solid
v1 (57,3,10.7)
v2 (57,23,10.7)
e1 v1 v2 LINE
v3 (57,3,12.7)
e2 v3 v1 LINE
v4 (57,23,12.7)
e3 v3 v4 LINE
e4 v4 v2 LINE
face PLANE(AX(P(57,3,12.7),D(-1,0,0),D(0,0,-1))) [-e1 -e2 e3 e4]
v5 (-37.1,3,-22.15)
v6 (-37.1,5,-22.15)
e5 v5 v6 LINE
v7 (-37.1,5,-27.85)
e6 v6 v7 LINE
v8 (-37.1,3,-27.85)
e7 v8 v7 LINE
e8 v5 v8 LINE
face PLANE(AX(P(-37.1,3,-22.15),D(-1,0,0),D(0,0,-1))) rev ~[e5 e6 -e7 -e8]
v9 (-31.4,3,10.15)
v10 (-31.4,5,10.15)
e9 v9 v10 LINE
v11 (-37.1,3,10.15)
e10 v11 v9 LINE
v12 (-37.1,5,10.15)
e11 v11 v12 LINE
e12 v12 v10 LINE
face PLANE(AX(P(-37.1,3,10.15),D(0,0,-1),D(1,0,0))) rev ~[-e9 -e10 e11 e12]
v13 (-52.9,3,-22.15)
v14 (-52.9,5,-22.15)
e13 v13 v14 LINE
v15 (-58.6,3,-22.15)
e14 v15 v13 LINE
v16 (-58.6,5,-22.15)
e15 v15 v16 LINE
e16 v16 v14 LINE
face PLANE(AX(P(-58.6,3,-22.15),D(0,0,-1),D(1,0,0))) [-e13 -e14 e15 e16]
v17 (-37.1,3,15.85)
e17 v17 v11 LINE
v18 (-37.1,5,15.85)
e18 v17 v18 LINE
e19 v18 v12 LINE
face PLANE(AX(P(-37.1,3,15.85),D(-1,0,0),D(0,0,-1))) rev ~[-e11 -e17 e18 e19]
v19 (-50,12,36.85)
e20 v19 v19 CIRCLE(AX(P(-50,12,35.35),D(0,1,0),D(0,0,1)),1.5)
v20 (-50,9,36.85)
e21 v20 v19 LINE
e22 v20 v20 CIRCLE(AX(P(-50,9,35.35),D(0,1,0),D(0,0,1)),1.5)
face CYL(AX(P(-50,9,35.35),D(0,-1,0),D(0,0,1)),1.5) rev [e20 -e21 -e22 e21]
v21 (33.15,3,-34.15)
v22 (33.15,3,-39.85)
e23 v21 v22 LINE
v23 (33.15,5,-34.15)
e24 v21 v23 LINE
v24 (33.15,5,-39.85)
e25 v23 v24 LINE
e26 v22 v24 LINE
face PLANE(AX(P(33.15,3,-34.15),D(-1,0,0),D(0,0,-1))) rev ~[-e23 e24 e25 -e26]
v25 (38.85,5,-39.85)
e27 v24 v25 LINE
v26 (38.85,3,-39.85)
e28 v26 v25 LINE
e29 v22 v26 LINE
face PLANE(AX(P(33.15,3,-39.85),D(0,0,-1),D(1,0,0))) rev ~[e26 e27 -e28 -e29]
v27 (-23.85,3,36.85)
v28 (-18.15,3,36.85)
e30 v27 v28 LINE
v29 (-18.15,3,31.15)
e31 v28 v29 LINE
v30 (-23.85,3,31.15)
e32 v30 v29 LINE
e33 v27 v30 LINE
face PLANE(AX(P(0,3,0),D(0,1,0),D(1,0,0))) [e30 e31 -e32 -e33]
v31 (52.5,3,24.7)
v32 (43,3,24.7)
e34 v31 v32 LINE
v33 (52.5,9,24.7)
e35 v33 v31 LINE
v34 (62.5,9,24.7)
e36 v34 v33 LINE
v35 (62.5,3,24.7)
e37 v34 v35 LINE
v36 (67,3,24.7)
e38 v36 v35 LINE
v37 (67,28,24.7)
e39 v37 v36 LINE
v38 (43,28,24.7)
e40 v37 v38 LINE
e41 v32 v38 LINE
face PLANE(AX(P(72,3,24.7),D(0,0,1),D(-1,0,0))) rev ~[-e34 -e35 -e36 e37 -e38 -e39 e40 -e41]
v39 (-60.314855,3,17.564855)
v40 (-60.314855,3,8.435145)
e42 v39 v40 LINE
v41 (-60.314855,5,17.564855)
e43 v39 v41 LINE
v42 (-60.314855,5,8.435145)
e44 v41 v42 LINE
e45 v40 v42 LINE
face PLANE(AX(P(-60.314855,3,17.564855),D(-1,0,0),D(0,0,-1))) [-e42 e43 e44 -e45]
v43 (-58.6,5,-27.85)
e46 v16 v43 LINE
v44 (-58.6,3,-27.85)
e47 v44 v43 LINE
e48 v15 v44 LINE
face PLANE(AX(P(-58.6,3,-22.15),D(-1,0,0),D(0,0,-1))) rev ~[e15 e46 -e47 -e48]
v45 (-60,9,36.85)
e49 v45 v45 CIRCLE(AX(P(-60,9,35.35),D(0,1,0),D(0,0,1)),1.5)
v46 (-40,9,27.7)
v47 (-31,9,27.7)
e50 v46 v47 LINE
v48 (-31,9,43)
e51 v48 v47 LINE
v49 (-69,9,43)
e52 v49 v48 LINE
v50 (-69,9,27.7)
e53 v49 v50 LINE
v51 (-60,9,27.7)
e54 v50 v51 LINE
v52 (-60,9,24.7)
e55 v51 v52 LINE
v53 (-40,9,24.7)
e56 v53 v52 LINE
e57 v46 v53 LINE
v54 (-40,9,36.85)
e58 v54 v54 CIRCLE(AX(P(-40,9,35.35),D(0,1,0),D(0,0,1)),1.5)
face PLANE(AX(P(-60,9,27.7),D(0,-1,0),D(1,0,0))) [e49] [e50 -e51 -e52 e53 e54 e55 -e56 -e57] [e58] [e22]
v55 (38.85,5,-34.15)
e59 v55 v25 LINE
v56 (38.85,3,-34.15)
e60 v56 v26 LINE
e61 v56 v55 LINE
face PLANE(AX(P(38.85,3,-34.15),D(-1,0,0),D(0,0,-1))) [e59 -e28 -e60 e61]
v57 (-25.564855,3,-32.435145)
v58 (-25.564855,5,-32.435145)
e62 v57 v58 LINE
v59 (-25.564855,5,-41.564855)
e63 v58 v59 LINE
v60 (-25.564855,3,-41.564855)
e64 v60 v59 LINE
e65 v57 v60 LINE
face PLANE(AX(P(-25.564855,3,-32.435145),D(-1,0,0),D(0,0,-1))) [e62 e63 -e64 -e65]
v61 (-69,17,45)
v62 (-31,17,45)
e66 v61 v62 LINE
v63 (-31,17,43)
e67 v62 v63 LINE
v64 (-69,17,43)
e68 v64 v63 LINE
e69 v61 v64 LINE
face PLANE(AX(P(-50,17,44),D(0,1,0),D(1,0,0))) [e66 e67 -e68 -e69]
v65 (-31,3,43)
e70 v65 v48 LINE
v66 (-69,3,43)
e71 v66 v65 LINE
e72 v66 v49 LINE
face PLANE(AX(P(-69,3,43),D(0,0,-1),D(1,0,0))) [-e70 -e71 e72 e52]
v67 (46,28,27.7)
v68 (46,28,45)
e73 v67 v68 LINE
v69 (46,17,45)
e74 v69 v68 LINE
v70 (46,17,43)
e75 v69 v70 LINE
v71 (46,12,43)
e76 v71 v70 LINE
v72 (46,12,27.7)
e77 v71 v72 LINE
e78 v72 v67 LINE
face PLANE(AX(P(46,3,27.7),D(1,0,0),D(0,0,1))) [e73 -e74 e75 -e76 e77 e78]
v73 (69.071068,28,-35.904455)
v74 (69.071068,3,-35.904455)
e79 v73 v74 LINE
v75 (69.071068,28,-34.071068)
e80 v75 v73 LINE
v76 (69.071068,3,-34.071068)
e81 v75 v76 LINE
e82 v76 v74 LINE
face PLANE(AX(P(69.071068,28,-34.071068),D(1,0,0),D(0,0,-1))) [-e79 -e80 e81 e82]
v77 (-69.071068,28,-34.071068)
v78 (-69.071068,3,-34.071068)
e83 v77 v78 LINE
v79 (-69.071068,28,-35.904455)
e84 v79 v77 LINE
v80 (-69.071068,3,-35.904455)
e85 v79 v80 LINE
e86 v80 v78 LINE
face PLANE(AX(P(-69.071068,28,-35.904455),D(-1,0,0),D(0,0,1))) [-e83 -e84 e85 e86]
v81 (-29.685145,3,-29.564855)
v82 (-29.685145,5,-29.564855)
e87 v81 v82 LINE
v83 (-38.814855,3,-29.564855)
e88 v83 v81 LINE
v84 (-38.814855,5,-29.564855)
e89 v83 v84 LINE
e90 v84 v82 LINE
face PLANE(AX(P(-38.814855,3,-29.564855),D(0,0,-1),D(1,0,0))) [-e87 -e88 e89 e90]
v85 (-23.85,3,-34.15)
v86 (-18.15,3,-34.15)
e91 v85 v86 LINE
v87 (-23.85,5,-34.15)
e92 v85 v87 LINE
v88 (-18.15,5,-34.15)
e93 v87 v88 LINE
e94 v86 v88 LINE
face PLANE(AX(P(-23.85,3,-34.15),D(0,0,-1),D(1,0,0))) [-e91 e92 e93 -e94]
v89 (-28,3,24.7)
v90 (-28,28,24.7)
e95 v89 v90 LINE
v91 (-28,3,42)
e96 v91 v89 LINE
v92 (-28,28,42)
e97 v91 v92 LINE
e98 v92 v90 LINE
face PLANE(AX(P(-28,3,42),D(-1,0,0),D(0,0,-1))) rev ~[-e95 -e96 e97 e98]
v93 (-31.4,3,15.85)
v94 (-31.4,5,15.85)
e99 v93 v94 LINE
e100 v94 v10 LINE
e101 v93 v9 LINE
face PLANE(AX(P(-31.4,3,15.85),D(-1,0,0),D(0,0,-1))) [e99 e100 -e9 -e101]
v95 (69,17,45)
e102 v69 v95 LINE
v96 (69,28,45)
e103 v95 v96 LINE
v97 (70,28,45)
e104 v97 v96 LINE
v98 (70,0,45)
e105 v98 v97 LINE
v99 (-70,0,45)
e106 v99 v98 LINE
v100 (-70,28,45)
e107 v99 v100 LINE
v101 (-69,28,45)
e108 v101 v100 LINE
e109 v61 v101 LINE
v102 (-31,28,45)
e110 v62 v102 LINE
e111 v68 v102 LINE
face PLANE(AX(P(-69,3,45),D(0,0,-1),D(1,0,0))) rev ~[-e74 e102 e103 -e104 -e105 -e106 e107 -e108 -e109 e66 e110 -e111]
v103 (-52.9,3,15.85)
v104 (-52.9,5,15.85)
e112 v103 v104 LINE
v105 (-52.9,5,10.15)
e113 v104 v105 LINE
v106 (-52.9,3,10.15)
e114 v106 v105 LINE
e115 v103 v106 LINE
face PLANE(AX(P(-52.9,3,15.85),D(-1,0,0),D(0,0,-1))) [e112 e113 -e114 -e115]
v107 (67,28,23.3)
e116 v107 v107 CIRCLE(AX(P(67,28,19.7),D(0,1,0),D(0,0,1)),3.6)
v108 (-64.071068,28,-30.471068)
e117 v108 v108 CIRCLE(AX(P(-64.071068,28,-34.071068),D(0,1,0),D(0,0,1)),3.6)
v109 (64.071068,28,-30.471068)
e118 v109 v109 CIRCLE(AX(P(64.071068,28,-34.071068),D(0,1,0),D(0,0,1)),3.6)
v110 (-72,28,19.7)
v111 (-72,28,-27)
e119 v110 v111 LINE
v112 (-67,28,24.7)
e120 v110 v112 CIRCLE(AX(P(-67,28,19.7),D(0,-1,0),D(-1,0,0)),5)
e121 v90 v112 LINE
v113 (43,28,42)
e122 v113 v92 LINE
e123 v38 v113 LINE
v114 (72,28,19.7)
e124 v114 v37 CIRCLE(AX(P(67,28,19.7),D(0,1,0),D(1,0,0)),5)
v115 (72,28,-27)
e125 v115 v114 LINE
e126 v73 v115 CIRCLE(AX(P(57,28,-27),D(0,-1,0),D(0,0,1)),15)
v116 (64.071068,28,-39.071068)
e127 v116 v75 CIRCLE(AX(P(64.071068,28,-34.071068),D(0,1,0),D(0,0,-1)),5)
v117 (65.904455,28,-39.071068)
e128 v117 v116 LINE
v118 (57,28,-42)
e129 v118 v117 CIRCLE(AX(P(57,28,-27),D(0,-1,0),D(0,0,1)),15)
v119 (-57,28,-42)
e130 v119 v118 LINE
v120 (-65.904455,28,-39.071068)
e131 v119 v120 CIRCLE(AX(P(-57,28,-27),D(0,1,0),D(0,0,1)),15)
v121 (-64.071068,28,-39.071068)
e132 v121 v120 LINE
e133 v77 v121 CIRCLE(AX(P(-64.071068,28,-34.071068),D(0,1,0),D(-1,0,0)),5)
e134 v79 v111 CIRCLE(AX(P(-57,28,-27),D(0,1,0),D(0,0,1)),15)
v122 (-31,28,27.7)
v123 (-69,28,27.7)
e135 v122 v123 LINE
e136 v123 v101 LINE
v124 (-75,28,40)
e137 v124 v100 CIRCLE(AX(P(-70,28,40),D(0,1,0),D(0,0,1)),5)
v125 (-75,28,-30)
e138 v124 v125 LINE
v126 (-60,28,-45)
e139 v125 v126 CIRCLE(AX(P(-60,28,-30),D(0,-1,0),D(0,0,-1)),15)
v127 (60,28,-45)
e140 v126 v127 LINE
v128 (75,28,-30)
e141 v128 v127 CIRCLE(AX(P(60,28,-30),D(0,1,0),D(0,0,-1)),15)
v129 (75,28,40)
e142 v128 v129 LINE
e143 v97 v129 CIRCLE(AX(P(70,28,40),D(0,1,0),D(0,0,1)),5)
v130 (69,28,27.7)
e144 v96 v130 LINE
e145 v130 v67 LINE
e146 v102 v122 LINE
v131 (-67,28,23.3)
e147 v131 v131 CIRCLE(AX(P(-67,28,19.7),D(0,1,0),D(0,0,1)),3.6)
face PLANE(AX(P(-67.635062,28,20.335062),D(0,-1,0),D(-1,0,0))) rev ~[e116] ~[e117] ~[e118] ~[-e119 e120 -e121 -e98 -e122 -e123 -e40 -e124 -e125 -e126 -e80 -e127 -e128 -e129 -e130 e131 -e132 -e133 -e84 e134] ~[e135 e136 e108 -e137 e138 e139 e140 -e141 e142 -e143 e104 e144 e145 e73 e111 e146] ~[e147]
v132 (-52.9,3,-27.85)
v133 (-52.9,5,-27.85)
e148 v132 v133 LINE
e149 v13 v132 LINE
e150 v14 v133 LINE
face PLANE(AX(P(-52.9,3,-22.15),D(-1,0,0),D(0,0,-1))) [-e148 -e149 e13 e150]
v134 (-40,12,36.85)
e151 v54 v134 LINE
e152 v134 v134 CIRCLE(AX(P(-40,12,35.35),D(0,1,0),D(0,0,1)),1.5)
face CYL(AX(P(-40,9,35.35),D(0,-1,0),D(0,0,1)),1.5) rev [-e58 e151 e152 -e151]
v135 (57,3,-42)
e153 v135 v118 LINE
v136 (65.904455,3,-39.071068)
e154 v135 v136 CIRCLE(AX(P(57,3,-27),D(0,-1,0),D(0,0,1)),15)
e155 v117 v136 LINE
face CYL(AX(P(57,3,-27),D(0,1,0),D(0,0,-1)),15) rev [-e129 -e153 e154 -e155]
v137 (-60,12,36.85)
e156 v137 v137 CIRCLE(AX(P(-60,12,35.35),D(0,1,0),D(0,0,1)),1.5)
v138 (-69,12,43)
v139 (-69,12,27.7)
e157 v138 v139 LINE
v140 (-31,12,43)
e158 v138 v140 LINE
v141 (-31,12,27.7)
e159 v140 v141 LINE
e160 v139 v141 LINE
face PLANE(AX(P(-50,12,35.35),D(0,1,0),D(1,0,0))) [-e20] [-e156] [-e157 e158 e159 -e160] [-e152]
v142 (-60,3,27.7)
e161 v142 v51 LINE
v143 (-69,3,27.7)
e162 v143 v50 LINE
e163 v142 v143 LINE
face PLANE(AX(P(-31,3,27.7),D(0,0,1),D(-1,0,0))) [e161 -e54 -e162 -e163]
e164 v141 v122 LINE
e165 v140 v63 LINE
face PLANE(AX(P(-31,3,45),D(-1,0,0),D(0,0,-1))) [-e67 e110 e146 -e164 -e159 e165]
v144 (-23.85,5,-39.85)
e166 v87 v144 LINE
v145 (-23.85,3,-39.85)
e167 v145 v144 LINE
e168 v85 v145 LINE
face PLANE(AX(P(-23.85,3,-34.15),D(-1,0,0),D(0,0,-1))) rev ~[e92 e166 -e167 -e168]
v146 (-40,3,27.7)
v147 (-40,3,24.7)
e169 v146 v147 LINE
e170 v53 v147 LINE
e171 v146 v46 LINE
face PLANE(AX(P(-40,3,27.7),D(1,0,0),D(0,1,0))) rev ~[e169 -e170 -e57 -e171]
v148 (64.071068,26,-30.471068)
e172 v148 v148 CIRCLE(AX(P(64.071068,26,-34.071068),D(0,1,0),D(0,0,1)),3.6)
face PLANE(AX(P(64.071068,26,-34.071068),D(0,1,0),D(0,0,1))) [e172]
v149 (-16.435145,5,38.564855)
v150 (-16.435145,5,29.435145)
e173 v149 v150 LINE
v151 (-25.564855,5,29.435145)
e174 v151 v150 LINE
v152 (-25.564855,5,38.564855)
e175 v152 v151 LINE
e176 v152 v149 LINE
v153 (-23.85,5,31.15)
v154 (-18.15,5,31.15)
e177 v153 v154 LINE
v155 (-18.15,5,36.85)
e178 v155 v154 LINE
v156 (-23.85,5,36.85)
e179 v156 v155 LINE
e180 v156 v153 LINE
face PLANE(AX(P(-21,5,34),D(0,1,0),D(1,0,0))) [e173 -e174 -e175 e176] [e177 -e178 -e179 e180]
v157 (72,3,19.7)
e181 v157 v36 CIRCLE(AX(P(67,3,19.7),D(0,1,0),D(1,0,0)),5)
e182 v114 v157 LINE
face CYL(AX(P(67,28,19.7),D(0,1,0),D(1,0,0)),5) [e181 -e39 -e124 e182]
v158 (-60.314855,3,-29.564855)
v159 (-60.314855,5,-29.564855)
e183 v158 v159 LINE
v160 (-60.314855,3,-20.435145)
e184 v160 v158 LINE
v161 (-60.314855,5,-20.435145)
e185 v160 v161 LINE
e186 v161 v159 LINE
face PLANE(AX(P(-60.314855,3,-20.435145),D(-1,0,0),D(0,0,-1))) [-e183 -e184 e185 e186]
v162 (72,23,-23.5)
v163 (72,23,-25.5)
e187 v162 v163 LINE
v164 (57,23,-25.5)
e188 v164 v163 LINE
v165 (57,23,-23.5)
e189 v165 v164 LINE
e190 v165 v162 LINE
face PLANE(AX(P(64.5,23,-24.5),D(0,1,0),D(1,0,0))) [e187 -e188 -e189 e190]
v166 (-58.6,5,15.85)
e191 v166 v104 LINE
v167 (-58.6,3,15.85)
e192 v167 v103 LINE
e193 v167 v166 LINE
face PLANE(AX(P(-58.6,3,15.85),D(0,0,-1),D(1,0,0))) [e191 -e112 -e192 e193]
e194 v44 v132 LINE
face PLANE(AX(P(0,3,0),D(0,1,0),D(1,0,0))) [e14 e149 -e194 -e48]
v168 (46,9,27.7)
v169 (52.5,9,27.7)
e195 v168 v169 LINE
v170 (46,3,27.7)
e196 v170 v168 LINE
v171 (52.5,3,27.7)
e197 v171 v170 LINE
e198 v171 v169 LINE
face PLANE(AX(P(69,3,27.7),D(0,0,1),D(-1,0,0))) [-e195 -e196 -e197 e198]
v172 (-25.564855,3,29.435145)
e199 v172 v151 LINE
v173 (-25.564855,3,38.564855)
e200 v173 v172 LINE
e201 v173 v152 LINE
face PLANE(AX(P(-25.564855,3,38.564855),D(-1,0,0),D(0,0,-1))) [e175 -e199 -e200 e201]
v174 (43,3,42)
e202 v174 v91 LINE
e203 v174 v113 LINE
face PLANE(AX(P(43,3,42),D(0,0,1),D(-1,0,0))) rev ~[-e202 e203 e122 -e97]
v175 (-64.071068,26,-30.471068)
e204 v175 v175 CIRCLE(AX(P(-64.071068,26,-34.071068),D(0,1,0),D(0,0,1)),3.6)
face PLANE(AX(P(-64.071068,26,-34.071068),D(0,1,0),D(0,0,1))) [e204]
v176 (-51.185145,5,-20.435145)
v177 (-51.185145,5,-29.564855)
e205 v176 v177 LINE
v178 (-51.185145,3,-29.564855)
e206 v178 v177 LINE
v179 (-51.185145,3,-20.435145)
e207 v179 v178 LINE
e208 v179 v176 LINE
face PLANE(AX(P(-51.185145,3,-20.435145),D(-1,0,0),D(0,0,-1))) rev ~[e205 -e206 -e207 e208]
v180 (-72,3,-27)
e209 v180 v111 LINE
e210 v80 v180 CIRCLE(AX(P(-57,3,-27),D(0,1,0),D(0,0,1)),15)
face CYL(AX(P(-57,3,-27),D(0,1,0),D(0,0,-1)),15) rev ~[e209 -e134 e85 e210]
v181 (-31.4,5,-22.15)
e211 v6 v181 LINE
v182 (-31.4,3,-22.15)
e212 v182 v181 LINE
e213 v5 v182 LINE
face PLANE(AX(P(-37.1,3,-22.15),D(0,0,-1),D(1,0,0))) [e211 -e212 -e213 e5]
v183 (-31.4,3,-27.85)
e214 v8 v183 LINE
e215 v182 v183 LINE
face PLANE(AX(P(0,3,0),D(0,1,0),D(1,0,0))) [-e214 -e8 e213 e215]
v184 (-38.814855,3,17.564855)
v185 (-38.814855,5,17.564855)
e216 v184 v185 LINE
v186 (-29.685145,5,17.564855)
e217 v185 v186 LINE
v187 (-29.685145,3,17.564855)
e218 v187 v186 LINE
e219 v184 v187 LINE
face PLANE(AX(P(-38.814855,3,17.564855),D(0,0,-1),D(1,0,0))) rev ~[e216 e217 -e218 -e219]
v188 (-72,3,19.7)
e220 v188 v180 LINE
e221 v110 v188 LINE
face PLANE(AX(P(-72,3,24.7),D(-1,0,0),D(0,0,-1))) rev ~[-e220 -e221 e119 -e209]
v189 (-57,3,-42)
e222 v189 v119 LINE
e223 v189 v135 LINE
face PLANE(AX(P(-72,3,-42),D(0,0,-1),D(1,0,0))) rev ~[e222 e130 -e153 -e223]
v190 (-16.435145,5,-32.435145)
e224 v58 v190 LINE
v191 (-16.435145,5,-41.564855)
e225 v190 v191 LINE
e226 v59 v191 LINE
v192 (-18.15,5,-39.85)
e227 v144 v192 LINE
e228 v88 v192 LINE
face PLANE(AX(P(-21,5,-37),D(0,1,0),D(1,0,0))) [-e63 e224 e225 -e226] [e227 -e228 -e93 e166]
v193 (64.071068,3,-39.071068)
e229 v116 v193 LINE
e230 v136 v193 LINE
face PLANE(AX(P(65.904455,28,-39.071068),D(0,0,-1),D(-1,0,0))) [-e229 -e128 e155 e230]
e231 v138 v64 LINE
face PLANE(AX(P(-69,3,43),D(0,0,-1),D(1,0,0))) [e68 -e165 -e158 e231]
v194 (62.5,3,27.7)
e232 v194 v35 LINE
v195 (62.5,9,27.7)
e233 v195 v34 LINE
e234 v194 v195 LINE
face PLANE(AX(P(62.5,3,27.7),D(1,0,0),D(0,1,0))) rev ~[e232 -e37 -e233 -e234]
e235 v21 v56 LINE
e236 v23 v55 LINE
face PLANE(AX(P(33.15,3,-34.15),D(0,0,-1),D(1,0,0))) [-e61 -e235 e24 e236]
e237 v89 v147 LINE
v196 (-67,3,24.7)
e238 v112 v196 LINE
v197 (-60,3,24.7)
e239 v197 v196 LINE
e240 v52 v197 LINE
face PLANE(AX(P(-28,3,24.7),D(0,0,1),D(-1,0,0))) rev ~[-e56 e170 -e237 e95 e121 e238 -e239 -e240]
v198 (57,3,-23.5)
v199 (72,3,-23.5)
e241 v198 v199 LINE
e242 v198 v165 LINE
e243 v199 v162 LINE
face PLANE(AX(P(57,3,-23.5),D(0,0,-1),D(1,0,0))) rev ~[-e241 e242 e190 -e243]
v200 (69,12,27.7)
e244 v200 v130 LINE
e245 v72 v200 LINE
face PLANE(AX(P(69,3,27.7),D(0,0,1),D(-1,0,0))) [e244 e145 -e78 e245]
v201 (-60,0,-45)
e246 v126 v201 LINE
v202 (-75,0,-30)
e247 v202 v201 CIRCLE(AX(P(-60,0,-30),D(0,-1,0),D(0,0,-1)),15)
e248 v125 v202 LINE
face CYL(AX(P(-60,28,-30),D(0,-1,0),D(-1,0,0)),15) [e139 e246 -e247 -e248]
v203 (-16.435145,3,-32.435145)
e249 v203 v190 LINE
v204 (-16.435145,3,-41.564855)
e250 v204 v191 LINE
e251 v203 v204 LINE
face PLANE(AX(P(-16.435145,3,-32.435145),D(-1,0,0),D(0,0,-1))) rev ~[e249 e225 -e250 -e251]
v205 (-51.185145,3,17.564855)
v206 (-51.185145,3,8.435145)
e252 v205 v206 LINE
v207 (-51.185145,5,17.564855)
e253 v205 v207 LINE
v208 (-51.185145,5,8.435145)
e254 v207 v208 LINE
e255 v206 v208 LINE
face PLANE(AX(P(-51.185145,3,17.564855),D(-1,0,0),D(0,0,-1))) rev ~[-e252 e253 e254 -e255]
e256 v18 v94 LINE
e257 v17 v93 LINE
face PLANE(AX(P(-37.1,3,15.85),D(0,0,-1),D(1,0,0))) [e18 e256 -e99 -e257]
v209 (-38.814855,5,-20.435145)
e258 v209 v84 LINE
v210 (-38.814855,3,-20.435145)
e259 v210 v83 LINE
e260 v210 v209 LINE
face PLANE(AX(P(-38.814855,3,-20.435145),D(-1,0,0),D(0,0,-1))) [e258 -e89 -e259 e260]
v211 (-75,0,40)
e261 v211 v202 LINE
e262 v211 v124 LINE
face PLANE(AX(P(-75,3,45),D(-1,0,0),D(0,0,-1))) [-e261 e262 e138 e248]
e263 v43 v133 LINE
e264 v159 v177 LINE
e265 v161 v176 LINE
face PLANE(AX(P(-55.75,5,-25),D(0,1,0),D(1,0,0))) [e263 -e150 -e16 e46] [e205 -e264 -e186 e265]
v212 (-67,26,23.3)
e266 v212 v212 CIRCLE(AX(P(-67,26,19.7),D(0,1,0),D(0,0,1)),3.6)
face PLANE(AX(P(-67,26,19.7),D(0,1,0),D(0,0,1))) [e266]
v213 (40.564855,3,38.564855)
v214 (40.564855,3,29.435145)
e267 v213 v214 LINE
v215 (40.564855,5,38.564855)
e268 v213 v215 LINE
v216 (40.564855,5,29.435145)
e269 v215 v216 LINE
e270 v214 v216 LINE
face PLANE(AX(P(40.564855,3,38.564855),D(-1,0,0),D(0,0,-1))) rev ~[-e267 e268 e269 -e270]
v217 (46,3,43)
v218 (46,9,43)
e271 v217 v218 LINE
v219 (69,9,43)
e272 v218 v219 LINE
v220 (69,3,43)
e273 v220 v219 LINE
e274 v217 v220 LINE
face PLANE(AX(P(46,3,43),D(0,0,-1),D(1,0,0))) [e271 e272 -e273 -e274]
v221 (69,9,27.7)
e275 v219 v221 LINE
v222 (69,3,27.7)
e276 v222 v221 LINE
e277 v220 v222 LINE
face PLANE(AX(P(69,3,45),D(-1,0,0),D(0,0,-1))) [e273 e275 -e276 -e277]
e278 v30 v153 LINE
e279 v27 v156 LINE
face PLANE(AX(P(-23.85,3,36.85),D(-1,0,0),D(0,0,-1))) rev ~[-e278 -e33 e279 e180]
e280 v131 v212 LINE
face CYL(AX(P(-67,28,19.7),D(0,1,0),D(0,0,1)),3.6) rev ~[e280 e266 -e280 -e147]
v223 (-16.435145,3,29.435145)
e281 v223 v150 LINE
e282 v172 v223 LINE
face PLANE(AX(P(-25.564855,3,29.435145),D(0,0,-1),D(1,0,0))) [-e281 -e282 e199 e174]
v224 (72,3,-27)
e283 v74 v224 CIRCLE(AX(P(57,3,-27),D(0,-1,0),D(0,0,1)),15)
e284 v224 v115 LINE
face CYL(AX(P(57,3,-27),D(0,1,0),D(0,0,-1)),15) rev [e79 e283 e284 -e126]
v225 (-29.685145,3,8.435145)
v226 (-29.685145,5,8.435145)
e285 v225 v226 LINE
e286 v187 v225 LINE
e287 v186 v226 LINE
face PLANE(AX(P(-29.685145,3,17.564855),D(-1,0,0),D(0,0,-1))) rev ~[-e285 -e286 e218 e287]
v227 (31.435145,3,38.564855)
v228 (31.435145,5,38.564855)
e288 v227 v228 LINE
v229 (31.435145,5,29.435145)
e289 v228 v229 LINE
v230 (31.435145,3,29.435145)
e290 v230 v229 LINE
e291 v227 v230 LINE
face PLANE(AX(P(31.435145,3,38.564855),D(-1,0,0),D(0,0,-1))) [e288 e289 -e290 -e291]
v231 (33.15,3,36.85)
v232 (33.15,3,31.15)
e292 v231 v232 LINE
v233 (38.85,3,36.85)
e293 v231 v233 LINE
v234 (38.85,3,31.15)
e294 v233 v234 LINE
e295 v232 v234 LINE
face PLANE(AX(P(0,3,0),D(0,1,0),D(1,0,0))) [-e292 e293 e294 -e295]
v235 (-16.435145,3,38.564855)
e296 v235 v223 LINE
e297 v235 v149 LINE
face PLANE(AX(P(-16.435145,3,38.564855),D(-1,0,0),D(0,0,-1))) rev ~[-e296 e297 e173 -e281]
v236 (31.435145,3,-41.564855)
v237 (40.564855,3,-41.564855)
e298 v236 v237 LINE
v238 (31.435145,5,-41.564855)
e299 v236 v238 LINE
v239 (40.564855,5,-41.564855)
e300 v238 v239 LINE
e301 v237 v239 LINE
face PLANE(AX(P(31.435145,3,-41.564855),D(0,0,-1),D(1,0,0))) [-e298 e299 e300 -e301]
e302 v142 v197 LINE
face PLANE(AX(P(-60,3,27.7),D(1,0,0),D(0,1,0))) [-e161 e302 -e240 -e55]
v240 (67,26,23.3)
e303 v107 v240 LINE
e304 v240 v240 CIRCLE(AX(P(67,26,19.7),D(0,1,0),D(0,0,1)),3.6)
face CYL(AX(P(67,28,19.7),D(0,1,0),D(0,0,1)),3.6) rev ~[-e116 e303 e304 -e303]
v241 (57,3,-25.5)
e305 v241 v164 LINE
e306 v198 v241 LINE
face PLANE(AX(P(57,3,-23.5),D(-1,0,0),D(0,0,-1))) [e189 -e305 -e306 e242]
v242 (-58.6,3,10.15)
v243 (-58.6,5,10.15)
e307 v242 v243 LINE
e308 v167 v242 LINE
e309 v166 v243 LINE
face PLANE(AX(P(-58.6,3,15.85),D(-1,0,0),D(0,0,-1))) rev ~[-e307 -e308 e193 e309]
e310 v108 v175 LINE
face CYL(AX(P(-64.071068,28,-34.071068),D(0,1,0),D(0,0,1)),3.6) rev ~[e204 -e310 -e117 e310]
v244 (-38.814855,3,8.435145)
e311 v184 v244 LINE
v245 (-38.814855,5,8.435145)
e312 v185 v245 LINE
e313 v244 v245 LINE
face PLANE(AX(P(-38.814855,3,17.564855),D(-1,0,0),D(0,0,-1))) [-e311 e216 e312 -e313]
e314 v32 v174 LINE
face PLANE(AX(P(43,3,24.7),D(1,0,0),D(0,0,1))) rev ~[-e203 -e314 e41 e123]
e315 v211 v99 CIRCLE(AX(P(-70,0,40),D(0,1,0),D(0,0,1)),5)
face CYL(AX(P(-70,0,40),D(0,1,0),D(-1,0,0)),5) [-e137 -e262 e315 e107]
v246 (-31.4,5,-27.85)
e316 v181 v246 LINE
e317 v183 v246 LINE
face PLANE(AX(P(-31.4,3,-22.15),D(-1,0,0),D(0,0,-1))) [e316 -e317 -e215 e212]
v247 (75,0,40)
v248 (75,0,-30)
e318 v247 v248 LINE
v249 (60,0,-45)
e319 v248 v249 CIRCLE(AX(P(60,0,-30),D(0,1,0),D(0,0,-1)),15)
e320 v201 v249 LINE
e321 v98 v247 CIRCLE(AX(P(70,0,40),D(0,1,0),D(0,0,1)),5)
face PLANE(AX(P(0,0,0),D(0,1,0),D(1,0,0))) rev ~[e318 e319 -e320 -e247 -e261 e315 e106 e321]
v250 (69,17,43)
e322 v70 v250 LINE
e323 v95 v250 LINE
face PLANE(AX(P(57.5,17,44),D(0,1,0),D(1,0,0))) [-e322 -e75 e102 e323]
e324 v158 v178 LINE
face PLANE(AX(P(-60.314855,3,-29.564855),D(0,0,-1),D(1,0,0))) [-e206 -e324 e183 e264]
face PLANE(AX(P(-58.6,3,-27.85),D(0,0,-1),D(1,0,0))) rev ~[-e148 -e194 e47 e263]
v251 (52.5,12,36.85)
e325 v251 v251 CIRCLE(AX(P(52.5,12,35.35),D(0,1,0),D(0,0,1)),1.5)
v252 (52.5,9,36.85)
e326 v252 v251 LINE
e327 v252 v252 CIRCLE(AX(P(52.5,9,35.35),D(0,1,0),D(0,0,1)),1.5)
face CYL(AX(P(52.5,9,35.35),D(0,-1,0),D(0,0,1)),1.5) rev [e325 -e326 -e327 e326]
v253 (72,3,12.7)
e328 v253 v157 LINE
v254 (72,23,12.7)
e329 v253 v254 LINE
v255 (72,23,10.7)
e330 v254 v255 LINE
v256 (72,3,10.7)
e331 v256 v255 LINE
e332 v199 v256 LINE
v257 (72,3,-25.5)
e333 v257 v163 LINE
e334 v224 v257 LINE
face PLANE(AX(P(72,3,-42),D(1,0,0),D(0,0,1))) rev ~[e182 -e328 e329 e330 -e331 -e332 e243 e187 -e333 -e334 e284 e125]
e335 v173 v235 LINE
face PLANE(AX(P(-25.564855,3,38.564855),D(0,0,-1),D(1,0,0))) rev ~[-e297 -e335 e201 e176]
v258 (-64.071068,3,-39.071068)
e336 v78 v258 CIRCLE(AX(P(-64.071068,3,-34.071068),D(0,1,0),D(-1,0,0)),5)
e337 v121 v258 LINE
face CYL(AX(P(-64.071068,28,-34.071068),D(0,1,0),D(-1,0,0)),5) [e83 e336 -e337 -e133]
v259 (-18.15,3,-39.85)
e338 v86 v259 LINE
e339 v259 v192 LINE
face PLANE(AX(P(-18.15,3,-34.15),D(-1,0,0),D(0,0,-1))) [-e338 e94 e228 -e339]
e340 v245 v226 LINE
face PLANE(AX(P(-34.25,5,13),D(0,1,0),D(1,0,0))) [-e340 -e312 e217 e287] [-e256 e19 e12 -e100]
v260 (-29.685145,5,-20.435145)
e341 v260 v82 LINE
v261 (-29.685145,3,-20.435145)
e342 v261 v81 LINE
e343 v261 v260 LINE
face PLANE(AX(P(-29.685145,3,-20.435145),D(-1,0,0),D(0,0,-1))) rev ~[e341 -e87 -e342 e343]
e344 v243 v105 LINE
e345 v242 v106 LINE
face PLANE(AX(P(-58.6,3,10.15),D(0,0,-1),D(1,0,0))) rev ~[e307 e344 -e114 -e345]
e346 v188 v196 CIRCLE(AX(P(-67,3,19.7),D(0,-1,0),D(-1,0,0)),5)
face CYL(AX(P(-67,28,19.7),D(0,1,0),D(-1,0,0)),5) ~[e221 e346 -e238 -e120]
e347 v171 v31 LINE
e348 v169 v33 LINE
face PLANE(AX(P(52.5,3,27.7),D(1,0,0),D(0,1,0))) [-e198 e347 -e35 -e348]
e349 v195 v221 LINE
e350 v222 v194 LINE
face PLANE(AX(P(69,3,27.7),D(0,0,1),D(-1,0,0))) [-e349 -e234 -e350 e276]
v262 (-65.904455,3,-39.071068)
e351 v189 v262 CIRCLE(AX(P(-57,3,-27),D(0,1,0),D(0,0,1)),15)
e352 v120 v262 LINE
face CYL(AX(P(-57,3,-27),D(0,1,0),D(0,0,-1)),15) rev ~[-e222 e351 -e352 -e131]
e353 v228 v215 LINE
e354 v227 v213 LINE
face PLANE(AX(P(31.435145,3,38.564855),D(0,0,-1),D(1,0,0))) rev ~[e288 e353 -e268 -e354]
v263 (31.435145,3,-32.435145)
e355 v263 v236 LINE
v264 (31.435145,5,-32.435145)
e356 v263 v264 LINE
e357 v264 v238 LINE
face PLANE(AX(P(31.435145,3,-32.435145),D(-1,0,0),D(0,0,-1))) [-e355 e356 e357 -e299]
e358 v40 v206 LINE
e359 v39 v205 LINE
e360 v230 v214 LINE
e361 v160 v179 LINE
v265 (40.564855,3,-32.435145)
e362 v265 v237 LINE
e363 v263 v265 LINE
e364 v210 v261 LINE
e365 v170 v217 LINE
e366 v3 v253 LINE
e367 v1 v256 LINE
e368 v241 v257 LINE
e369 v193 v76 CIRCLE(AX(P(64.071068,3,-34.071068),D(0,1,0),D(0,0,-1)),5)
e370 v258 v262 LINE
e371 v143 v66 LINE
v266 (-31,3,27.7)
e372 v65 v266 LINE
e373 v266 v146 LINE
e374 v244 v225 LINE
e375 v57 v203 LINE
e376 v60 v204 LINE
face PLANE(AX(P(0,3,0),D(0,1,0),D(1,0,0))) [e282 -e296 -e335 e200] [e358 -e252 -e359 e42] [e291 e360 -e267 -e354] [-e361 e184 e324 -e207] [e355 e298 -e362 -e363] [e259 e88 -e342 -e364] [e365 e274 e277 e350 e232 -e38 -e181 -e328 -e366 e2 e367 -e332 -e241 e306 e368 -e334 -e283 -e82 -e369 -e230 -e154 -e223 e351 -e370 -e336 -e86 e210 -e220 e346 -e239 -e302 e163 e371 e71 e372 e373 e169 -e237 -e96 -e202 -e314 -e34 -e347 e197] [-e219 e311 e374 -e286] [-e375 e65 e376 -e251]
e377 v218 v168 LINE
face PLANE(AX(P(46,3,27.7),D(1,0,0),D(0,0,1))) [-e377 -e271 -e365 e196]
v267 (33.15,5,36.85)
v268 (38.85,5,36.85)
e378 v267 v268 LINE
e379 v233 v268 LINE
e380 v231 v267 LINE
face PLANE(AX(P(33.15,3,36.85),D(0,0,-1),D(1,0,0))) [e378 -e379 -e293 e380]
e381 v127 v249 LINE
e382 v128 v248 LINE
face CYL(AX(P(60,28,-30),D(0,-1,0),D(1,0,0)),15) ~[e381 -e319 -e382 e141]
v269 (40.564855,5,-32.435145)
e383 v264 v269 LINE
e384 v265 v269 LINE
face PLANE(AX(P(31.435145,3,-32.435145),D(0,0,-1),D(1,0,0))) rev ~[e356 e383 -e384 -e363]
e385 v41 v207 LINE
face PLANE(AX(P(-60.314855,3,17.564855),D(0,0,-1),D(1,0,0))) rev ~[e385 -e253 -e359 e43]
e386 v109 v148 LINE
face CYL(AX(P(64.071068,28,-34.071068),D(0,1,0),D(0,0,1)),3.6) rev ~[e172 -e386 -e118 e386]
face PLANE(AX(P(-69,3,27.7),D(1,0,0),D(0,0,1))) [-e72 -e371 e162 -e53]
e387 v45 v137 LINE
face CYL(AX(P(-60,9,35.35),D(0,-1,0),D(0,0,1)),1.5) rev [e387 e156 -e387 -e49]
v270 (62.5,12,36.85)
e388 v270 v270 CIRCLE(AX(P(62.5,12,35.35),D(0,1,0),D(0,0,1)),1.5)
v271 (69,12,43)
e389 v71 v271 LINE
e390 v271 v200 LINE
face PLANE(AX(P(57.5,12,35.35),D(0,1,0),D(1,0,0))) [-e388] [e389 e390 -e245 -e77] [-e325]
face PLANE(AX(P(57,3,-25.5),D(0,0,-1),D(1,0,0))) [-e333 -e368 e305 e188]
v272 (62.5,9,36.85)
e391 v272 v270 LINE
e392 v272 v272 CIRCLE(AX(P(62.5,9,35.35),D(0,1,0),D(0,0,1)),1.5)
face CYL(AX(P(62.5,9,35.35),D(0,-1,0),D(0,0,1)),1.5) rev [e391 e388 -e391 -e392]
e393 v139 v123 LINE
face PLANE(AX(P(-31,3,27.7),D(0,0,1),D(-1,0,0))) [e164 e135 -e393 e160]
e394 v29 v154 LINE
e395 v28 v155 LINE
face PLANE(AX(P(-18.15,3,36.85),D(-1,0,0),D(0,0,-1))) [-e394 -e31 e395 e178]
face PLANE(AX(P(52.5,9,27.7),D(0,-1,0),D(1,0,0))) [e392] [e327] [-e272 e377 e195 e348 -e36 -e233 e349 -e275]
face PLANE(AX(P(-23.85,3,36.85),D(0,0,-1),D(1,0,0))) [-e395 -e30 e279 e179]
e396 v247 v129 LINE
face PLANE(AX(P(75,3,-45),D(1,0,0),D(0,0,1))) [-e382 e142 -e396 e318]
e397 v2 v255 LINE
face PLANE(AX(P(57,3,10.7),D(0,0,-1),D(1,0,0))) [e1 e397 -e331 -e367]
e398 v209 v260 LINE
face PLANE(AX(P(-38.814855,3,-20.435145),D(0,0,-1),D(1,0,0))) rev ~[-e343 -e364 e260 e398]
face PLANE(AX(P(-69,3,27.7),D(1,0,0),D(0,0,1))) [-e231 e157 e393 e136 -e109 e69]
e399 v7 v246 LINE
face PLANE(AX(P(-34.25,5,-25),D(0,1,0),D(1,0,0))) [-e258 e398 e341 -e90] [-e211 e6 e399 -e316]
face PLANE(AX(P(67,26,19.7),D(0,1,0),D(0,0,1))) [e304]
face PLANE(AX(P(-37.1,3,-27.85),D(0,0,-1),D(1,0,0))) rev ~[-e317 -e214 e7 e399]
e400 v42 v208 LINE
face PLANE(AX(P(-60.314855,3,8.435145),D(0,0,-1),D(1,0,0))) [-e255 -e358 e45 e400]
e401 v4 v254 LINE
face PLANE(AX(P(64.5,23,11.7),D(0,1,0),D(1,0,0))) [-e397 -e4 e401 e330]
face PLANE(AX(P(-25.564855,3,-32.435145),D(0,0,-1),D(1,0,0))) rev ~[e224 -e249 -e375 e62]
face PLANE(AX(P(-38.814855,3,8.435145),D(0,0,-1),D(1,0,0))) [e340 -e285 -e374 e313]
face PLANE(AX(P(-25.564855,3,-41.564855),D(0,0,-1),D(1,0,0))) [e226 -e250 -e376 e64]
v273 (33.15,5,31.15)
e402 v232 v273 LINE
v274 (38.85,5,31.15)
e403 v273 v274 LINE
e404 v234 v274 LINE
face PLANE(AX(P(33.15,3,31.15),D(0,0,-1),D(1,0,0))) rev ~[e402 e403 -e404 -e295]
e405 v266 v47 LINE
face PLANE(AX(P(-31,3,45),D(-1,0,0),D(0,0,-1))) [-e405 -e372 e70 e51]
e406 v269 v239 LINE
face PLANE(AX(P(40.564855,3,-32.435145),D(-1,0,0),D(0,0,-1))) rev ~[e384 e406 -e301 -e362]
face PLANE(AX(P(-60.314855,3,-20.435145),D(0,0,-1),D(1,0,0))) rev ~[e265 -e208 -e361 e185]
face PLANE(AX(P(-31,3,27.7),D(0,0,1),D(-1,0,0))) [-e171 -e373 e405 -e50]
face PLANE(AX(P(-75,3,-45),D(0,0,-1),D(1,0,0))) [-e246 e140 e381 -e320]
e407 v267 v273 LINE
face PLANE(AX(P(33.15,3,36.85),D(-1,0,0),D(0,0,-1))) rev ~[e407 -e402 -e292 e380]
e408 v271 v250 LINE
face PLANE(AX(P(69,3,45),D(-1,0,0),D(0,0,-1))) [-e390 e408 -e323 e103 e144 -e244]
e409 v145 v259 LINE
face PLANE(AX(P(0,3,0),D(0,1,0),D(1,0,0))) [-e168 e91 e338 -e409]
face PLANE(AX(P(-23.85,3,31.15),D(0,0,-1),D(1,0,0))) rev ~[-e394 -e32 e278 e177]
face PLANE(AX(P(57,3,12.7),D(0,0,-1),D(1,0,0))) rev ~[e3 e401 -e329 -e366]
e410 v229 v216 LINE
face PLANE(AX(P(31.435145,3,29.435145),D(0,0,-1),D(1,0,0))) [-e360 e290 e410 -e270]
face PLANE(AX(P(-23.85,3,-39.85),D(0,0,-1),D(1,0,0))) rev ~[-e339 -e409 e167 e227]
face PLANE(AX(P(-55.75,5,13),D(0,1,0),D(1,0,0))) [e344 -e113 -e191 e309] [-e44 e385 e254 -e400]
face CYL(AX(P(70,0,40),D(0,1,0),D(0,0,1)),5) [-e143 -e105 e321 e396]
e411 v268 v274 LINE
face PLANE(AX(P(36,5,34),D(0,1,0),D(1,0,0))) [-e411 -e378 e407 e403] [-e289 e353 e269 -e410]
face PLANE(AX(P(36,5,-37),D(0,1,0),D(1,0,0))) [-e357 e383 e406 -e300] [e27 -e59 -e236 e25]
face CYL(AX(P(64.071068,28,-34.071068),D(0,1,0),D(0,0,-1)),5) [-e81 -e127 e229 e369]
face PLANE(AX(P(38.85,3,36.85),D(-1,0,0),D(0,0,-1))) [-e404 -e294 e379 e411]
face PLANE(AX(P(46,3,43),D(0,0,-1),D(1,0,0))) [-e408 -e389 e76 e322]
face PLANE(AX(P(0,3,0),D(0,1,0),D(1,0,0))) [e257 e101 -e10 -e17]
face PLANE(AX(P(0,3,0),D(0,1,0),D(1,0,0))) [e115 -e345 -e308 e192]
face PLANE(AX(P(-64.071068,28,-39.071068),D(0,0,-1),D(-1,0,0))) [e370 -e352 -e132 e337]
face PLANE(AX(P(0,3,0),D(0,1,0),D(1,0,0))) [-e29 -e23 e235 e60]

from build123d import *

# Parameters (mm, degrees)
CROQUIS1_W              = 150
CROQUIS1_H              = 90
SALIENTE_EXTRUIR1_DEPTH = 3
SALIENTE_EXTRUIR2_DEPTH = 25
CROQUIS3_W              = 38
CROQUIS3_H              = 2
CROQUIS3_W_2            = 23
SALIENTE_EXTRUIR3_DEPTH = 14
SALIENTE_EXTRUIR4_START = 6
CROQUIS4_W              = 38
CROQUIS4_H              = 15.3
CROQUIS4_R              = 1.5
CROQUIS4_W_2            = 23
SALIENTE_EXTRUIR4_DEPTH = 3
CORTAR_EXTRUIR1_REACH   = 110.14
CROQUIS5_W              = 20
CROQUIS5_H              = 6
CROQUIS5_W_2            = 10
REDONDEO1_R             = 15
REDONDEO2_R             = 5
SALIENTE_EXTRUIR5_START = 25
SALIENTE_EXTRUIR5_DEPTH = 25
CROQUIS7_R              = 3.6
CORTAR_EXTRUIR2_DEPTH   = 2
CROQUIS8_W              = 9.129710912
CROQUIS8_H              = 9.129710912
CROQUIS8_W_2            = 5.7
CROQUIS8_H_2            = 5.7
SALIENTE_EXTRUIR6_DEPTH = 2
CROQUIS9_W              = 15
CROQUIS9_H              = 2
SALIENTE_EXTRUIR7_DEPTH = 20


with BuildPart() as part:
    # Croquis1 → Saliente-Extruir1 (new body)
    with BuildSketch(Plane(origin=(0, 0, 0), x_dir=(1, 0, 0), z_dir=(0, 1, 0))):
        Rectangle(CROQUIS1_W, CROQUIS1_H)
    extrude(amount=SALIENTE_EXTRUIR1_DEPTH)

    # Croquis2 → Saliente-Extruir2 (add)
    with BuildSketch(Plane(origin=(0, 3, 0), x_dir=(1, 0, 0), z_dir=(0, 1, 0))):
        Polygon((-75, -45), (-75, 45), (75, 45), (75, -45), (69, -45), (69, -27.7), (46, -27.7), (46, -45), (-31, -45), (-31, -27.7), (-69, -27.7), (-69, -45), align=None)
        Polygon((-72, 42), (72, 42), (72, -24.7), (43, -24.7), (43, -42), (-28, -42), (-28, -24.7), (-72, -24.7), align=None, mode=Mode.SUBTRACT)
    extrude(amount=SALIENTE_EXTRUIR2_DEPTH)

    # Croquis3 → Saliente-Extruir3 (add)
    with BuildSketch(Plane(origin=(0, 3, 0), x_dir=(1, 0, 0), z_dir=(0, 1, 0))):
        with Locations((-50, -44)):
            Rectangle(CROQUIS3_W, CROQUIS3_H)
        with Locations((57.5, -44)):
            Rectangle(CROQUIS3_W_2, CROQUIS3_H)
    extrude(amount=SALIENTE_EXTRUIR3_DEPTH)

    # Croquis4 → Saliente-Extruir4 (add)
    # profile 1 of 2: a face of its own
    with BuildSketch(Plane(origin=(0, 3, 0), x_dir=(1, 0, 0), z_dir=(0, 1, 0)).offset(SALIENTE_EXTRUIR4_START)):
        with Locations((-50, -35.35)):
            Rectangle(CROQUIS4_W, CROQUIS4_H)
        with Locations(Location((-50, -35.35, 0), (0, 0, 270))):
            Circle(CROQUIS4_R, mode=Mode.SUBTRACT)
        with Locations(Location((-40, -35.35, 0), (0, 0, 270))):
            Circle(CROQUIS4_R, mode=Mode.SUBTRACT)
        with Locations(Location((-60, -35.35, 0), (0, 0, 270))):
            Circle(CROQUIS4_R, mode=Mode.SUBTRACT)
    # profile 2 of 2: a face of its own
    with BuildSketch(Plane(origin=(0, 3, 0), x_dir=(1, 0, 0), z_dir=(0, 1, 0)).offset(SALIENTE_EXTRUIR4_START)):
        with Locations((57.5, -35.35)):
            Rectangle(CROQUIS4_W_2, CROQUIS4_H)
        with Locations(Location((62.5, -35.35, 0), (0, 0, 270))):
            Circle(CROQUIS4_R, mode=Mode.SUBTRACT)
        with Locations(Location((52.5, -35.35, 0), (0, 0, 270))):
            Circle(CROQUIS4_R, mode=Mode.SUBTRACT)
    extrude(amount=SALIENTE_EXTRUIR4_DEPTH)

    # Croquis5 → Cortar-Extruir1 (cut, up to next)
    with BuildSketch(Plane.XY.offset(27.7), mode=Mode.PRIVATE) as cortar_extruir1_sk1:
        with Locations((-50, 6)):
            Rectangle(CROQUIS5_W, CROQUIS5_H)
    cortar_extruir1_tool1 = extrude(cortar_extruir1_sk1.sketch, amount=-CORTAR_EXTRUIR1_REACH, mode=Mode.PRIVATE) & part.part
    # Croquis5 → Cortar-Extruir1 (cut, up to next)
    with BuildSketch(Plane.XY.offset(27.7), mode=Mode.PRIVATE) as cortar_extruir1_sk2:
        with Locations((57.5, 6)):
            Rectangle(CROQUIS5_W_2, CROQUIS5_H)
    cortar_extruir1_tool2 = extrude(cortar_extruir1_sk2.sketch, amount=-CORTAR_EXTRUIR1_REACH, mode=Mode.PRIVATE) & part.part
    add(cortar_extruir1_tool1.solids().sort_by_distance((-50, 6, 27.7))[0], mode=Mode.SUBTRACT)
    add(cortar_extruir1_tool2.solids().sort_by_distance((57.5, 6, 27.7))[0], mode=Mode.SUBTRACT)

    # Redondeo1
    redondeo1_edges = [part.edges().sort_by_distance(p)[0] for p in [
        (72, 15.5, -42),
        (-72, 15.5, -42),
        (-75, 14, -45),
        (75, 14, -45),
    ]]
    fillet(redondeo1_edges, radius=REDONDEO1_R)

    # Redondeo2
    redondeo2_edges = [part.edges().sort_by_distance(p)[0] for p in [
        (75, 14, 45),
        (-75, 14, 45),
    ]]
    fillet(redondeo2_edges, radius=REDONDEO2_R)

    # Croquis6 → Saliente-Extruir5 (add)
    with BuildSketch(Plane(origin=(0, 3, 0), x_dir=(1, 0, 0), z_dir=(0, 1, 0)).offset(SALIENTE_EXTRUIR5_START)):
        with BuildLine():
            Line((-64.071067812, 39.071067812), (-65.90445517, 39.071067812))
            ThreePointArc((-65.90445517, 39.071067812), (-67.606601718, 37.606601718), (-69.071067812, 35.90445517))
            Line((-69.071067812, 35.90445517), (-69.071067812, 34.071067812))
            ThreePointArc((-69.071067812, 34.071067812), (-60.535533906, 30.535533906), (-64.071067812, 39.071067812))
        make_face()
        with BuildLine():
            Line((-67, -24.7), (-72, -24.7))
            Line((-72, -24.7), (-72, -19.7))
            ThreePointArc((-72, -19.7), (-63.464466094, -16.164466094), (-67, -24.7))
        make_face()
        with BuildLine():
            Line((72, -24.7), (72, -19.7))
            ThreePointArc((72, -19.7), (63.464466094, -16.164466094), (67, -24.7))
            Line((67, -24.7), (72, -24.7))
        make_face()
        with BuildLine():
            Line((69.071067812, 34.071067812), (69.071067812, 35.90445517))
            ThreePointArc((69.071067812, 35.90445517), (67.606601718, 37.606601718), (65.90445517, 39.071067812))
            Line((65.90445517, 39.071067812), (64.071067812, 39.071067812))
            ThreePointArc((64.071067812, 39.071067812), (60.535533906, 30.535533906), (69.071067812, 34.071067812))
        make_face()
    extrude(amount=-SALIENTE_EXTRUIR5_DEPTH)

    # Croquis7 → Cortar-Extruir2 (cut)
    with BuildSketch(Plane(origin=(0, 28, 0), x_dir=(1, 0, 0), z_dir=(0, 1, 0))):
        with Locations(Location((-64.071067812, 34.071067812, 0), (0, 0, 270))):
            Circle(CROQUIS7_R)
        with Locations(Location((64.071067812, 34.071067812, 0), (0, 0, 270))):
            Circle(CROQUIS7_R)
        with Locations(Location((67, -19.7, 0), (0, 0, 270))):
            Circle(CROQUIS7_R)
        with Locations(Location((-67, -19.7, 0), (0, 0, 270))):
            Circle(CROQUIS7_R)
    extrude(amount=-CORTAR_EXTRUIR2_DEPTH, mode=Mode.SUBTRACT)

    # Croquis8 → Saliente-Extruir6 (add)
    # profile 1 of 8: a face of its own
    with BuildSketch(Plane(origin=(0, 3, 0), x_dir=(1, 0, 0), z_dir=(0, 1, 0))):
        with Locations((-34.25, 25)):
            Rectangle(CROQUIS8_W, CROQUIS8_H)
        with Locations((-34.25, 25)):
            Rectangle(CROQUIS8_W_2, CROQUIS8_H_2, mode=Mode.SUBTRACT)
    # profile 2 of 8: a face of its own
    with BuildSketch(Plane(origin=(0, 3, 0), x_dir=(1, 0, 0), z_dir=(0, 1, 0))):
        with Locations((-55.75, 25)):
            Rectangle(CROQUIS8_W, CROQUIS8_H)
        with Locations((-55.75, 25)):
            Rectangle(CROQUIS8_W_2, CROQUIS8_H_2, mode=Mode.SUBTRACT)
    # profile 3 of 8: a face of its own
    with BuildSketch(Plane(origin=(0, 3, 0), x_dir=(1, 0, 0), z_dir=(0, 1, 0))):
        with Locations((-34.25, -13)):
            Rectangle(CROQUIS8_W, CROQUIS8_H)
        with Locations((-34.25, -13)):
            Rectangle(CROQUIS8_W_2, CROQUIS8_H_2, mode=Mode.SUBTRACT)
    # profile 4 of 8: a face of its own
    with BuildSketch(Plane(origin=(0, 3, 0), x_dir=(1, 0, 0), z_dir=(0, 1, 0))):
        with Locations((-55.75, -13)):
            Rectangle(CROQUIS8_W, CROQUIS8_H)
        with Locations((-55.75, -13)):
            Rectangle(CROQUIS8_W_2, CROQUIS8_H_2, mode=Mode.SUBTRACT)
    # profile 5 of 8: a face of its own
    with BuildSketch(Plane(origin=(0, 3, 0), x_dir=(1, 0, 0), z_dir=(0, 1, 0))):
        with Locations((36, 37)):
            Rectangle(CROQUIS8_W, CROQUIS8_H)
        with Locations((36, 37)):
            Rectangle(CROQUIS8_W_2, CROQUIS8_H_2, mode=Mode.SUBTRACT)
    # profile 6 of 8: a face of its own
    with BuildSketch(Plane(origin=(0, 3, 0), x_dir=(1, 0, 0), z_dir=(0, 1, 0))):
        with Locations((-21, 37)):
            Rectangle(CROQUIS8_W, CROQUIS8_H)
        with Locations((-21, 37)):
            Rectangle(CROQUIS8_W_2, CROQUIS8_H_2, mode=Mode.SUBTRACT)
    # profile 7 of 8: a face of its own
    with BuildSketch(Plane(origin=(0, 3, 0), x_dir=(1, 0, 0), z_dir=(0, 1, 0))):
        with Locations((-21, -34)):
            Rectangle(CROQUIS8_W, CROQUIS8_H)
        with Locations((-21, -34)):
            Rectangle(CROQUIS8_W_2, CROQUIS8_H_2, mode=Mode.SUBTRACT)
    # profile 8 of 8: a face of its own
    with BuildSketch(Plane(origin=(0, 3, 0), x_dir=(1, 0, 0), z_dir=(0, 1, 0))):
        with Locations((36, -34)):
            Rectangle(CROQUIS8_W, CROQUIS8_H)
        with Locations((36, -34)):
            Rectangle(CROQUIS8_W_2, CROQUIS8_H_2, mode=Mode.SUBTRACT)
    extrude(amount=SALIENTE_EXTRUIR6_DEPTH)

    # Croquis9 → Saliente-Extruir7 (add)
    with BuildSketch(Plane(origin=(0, 3, 0), x_dir=(1, 0, 0), z_dir=(0, 1, 0))):
        with Locations((64.5, -11.7)):
            Rectangle(CROQUIS9_W, CROQUIS9_H)
        with Locations((64.5, 24.5)):
            Rectangle(CROQUIS9_W, CROQUIS9_H)
    extrude(amount=SALIENTE_EXTRUIR7_DEPTH)


solid = part.part
